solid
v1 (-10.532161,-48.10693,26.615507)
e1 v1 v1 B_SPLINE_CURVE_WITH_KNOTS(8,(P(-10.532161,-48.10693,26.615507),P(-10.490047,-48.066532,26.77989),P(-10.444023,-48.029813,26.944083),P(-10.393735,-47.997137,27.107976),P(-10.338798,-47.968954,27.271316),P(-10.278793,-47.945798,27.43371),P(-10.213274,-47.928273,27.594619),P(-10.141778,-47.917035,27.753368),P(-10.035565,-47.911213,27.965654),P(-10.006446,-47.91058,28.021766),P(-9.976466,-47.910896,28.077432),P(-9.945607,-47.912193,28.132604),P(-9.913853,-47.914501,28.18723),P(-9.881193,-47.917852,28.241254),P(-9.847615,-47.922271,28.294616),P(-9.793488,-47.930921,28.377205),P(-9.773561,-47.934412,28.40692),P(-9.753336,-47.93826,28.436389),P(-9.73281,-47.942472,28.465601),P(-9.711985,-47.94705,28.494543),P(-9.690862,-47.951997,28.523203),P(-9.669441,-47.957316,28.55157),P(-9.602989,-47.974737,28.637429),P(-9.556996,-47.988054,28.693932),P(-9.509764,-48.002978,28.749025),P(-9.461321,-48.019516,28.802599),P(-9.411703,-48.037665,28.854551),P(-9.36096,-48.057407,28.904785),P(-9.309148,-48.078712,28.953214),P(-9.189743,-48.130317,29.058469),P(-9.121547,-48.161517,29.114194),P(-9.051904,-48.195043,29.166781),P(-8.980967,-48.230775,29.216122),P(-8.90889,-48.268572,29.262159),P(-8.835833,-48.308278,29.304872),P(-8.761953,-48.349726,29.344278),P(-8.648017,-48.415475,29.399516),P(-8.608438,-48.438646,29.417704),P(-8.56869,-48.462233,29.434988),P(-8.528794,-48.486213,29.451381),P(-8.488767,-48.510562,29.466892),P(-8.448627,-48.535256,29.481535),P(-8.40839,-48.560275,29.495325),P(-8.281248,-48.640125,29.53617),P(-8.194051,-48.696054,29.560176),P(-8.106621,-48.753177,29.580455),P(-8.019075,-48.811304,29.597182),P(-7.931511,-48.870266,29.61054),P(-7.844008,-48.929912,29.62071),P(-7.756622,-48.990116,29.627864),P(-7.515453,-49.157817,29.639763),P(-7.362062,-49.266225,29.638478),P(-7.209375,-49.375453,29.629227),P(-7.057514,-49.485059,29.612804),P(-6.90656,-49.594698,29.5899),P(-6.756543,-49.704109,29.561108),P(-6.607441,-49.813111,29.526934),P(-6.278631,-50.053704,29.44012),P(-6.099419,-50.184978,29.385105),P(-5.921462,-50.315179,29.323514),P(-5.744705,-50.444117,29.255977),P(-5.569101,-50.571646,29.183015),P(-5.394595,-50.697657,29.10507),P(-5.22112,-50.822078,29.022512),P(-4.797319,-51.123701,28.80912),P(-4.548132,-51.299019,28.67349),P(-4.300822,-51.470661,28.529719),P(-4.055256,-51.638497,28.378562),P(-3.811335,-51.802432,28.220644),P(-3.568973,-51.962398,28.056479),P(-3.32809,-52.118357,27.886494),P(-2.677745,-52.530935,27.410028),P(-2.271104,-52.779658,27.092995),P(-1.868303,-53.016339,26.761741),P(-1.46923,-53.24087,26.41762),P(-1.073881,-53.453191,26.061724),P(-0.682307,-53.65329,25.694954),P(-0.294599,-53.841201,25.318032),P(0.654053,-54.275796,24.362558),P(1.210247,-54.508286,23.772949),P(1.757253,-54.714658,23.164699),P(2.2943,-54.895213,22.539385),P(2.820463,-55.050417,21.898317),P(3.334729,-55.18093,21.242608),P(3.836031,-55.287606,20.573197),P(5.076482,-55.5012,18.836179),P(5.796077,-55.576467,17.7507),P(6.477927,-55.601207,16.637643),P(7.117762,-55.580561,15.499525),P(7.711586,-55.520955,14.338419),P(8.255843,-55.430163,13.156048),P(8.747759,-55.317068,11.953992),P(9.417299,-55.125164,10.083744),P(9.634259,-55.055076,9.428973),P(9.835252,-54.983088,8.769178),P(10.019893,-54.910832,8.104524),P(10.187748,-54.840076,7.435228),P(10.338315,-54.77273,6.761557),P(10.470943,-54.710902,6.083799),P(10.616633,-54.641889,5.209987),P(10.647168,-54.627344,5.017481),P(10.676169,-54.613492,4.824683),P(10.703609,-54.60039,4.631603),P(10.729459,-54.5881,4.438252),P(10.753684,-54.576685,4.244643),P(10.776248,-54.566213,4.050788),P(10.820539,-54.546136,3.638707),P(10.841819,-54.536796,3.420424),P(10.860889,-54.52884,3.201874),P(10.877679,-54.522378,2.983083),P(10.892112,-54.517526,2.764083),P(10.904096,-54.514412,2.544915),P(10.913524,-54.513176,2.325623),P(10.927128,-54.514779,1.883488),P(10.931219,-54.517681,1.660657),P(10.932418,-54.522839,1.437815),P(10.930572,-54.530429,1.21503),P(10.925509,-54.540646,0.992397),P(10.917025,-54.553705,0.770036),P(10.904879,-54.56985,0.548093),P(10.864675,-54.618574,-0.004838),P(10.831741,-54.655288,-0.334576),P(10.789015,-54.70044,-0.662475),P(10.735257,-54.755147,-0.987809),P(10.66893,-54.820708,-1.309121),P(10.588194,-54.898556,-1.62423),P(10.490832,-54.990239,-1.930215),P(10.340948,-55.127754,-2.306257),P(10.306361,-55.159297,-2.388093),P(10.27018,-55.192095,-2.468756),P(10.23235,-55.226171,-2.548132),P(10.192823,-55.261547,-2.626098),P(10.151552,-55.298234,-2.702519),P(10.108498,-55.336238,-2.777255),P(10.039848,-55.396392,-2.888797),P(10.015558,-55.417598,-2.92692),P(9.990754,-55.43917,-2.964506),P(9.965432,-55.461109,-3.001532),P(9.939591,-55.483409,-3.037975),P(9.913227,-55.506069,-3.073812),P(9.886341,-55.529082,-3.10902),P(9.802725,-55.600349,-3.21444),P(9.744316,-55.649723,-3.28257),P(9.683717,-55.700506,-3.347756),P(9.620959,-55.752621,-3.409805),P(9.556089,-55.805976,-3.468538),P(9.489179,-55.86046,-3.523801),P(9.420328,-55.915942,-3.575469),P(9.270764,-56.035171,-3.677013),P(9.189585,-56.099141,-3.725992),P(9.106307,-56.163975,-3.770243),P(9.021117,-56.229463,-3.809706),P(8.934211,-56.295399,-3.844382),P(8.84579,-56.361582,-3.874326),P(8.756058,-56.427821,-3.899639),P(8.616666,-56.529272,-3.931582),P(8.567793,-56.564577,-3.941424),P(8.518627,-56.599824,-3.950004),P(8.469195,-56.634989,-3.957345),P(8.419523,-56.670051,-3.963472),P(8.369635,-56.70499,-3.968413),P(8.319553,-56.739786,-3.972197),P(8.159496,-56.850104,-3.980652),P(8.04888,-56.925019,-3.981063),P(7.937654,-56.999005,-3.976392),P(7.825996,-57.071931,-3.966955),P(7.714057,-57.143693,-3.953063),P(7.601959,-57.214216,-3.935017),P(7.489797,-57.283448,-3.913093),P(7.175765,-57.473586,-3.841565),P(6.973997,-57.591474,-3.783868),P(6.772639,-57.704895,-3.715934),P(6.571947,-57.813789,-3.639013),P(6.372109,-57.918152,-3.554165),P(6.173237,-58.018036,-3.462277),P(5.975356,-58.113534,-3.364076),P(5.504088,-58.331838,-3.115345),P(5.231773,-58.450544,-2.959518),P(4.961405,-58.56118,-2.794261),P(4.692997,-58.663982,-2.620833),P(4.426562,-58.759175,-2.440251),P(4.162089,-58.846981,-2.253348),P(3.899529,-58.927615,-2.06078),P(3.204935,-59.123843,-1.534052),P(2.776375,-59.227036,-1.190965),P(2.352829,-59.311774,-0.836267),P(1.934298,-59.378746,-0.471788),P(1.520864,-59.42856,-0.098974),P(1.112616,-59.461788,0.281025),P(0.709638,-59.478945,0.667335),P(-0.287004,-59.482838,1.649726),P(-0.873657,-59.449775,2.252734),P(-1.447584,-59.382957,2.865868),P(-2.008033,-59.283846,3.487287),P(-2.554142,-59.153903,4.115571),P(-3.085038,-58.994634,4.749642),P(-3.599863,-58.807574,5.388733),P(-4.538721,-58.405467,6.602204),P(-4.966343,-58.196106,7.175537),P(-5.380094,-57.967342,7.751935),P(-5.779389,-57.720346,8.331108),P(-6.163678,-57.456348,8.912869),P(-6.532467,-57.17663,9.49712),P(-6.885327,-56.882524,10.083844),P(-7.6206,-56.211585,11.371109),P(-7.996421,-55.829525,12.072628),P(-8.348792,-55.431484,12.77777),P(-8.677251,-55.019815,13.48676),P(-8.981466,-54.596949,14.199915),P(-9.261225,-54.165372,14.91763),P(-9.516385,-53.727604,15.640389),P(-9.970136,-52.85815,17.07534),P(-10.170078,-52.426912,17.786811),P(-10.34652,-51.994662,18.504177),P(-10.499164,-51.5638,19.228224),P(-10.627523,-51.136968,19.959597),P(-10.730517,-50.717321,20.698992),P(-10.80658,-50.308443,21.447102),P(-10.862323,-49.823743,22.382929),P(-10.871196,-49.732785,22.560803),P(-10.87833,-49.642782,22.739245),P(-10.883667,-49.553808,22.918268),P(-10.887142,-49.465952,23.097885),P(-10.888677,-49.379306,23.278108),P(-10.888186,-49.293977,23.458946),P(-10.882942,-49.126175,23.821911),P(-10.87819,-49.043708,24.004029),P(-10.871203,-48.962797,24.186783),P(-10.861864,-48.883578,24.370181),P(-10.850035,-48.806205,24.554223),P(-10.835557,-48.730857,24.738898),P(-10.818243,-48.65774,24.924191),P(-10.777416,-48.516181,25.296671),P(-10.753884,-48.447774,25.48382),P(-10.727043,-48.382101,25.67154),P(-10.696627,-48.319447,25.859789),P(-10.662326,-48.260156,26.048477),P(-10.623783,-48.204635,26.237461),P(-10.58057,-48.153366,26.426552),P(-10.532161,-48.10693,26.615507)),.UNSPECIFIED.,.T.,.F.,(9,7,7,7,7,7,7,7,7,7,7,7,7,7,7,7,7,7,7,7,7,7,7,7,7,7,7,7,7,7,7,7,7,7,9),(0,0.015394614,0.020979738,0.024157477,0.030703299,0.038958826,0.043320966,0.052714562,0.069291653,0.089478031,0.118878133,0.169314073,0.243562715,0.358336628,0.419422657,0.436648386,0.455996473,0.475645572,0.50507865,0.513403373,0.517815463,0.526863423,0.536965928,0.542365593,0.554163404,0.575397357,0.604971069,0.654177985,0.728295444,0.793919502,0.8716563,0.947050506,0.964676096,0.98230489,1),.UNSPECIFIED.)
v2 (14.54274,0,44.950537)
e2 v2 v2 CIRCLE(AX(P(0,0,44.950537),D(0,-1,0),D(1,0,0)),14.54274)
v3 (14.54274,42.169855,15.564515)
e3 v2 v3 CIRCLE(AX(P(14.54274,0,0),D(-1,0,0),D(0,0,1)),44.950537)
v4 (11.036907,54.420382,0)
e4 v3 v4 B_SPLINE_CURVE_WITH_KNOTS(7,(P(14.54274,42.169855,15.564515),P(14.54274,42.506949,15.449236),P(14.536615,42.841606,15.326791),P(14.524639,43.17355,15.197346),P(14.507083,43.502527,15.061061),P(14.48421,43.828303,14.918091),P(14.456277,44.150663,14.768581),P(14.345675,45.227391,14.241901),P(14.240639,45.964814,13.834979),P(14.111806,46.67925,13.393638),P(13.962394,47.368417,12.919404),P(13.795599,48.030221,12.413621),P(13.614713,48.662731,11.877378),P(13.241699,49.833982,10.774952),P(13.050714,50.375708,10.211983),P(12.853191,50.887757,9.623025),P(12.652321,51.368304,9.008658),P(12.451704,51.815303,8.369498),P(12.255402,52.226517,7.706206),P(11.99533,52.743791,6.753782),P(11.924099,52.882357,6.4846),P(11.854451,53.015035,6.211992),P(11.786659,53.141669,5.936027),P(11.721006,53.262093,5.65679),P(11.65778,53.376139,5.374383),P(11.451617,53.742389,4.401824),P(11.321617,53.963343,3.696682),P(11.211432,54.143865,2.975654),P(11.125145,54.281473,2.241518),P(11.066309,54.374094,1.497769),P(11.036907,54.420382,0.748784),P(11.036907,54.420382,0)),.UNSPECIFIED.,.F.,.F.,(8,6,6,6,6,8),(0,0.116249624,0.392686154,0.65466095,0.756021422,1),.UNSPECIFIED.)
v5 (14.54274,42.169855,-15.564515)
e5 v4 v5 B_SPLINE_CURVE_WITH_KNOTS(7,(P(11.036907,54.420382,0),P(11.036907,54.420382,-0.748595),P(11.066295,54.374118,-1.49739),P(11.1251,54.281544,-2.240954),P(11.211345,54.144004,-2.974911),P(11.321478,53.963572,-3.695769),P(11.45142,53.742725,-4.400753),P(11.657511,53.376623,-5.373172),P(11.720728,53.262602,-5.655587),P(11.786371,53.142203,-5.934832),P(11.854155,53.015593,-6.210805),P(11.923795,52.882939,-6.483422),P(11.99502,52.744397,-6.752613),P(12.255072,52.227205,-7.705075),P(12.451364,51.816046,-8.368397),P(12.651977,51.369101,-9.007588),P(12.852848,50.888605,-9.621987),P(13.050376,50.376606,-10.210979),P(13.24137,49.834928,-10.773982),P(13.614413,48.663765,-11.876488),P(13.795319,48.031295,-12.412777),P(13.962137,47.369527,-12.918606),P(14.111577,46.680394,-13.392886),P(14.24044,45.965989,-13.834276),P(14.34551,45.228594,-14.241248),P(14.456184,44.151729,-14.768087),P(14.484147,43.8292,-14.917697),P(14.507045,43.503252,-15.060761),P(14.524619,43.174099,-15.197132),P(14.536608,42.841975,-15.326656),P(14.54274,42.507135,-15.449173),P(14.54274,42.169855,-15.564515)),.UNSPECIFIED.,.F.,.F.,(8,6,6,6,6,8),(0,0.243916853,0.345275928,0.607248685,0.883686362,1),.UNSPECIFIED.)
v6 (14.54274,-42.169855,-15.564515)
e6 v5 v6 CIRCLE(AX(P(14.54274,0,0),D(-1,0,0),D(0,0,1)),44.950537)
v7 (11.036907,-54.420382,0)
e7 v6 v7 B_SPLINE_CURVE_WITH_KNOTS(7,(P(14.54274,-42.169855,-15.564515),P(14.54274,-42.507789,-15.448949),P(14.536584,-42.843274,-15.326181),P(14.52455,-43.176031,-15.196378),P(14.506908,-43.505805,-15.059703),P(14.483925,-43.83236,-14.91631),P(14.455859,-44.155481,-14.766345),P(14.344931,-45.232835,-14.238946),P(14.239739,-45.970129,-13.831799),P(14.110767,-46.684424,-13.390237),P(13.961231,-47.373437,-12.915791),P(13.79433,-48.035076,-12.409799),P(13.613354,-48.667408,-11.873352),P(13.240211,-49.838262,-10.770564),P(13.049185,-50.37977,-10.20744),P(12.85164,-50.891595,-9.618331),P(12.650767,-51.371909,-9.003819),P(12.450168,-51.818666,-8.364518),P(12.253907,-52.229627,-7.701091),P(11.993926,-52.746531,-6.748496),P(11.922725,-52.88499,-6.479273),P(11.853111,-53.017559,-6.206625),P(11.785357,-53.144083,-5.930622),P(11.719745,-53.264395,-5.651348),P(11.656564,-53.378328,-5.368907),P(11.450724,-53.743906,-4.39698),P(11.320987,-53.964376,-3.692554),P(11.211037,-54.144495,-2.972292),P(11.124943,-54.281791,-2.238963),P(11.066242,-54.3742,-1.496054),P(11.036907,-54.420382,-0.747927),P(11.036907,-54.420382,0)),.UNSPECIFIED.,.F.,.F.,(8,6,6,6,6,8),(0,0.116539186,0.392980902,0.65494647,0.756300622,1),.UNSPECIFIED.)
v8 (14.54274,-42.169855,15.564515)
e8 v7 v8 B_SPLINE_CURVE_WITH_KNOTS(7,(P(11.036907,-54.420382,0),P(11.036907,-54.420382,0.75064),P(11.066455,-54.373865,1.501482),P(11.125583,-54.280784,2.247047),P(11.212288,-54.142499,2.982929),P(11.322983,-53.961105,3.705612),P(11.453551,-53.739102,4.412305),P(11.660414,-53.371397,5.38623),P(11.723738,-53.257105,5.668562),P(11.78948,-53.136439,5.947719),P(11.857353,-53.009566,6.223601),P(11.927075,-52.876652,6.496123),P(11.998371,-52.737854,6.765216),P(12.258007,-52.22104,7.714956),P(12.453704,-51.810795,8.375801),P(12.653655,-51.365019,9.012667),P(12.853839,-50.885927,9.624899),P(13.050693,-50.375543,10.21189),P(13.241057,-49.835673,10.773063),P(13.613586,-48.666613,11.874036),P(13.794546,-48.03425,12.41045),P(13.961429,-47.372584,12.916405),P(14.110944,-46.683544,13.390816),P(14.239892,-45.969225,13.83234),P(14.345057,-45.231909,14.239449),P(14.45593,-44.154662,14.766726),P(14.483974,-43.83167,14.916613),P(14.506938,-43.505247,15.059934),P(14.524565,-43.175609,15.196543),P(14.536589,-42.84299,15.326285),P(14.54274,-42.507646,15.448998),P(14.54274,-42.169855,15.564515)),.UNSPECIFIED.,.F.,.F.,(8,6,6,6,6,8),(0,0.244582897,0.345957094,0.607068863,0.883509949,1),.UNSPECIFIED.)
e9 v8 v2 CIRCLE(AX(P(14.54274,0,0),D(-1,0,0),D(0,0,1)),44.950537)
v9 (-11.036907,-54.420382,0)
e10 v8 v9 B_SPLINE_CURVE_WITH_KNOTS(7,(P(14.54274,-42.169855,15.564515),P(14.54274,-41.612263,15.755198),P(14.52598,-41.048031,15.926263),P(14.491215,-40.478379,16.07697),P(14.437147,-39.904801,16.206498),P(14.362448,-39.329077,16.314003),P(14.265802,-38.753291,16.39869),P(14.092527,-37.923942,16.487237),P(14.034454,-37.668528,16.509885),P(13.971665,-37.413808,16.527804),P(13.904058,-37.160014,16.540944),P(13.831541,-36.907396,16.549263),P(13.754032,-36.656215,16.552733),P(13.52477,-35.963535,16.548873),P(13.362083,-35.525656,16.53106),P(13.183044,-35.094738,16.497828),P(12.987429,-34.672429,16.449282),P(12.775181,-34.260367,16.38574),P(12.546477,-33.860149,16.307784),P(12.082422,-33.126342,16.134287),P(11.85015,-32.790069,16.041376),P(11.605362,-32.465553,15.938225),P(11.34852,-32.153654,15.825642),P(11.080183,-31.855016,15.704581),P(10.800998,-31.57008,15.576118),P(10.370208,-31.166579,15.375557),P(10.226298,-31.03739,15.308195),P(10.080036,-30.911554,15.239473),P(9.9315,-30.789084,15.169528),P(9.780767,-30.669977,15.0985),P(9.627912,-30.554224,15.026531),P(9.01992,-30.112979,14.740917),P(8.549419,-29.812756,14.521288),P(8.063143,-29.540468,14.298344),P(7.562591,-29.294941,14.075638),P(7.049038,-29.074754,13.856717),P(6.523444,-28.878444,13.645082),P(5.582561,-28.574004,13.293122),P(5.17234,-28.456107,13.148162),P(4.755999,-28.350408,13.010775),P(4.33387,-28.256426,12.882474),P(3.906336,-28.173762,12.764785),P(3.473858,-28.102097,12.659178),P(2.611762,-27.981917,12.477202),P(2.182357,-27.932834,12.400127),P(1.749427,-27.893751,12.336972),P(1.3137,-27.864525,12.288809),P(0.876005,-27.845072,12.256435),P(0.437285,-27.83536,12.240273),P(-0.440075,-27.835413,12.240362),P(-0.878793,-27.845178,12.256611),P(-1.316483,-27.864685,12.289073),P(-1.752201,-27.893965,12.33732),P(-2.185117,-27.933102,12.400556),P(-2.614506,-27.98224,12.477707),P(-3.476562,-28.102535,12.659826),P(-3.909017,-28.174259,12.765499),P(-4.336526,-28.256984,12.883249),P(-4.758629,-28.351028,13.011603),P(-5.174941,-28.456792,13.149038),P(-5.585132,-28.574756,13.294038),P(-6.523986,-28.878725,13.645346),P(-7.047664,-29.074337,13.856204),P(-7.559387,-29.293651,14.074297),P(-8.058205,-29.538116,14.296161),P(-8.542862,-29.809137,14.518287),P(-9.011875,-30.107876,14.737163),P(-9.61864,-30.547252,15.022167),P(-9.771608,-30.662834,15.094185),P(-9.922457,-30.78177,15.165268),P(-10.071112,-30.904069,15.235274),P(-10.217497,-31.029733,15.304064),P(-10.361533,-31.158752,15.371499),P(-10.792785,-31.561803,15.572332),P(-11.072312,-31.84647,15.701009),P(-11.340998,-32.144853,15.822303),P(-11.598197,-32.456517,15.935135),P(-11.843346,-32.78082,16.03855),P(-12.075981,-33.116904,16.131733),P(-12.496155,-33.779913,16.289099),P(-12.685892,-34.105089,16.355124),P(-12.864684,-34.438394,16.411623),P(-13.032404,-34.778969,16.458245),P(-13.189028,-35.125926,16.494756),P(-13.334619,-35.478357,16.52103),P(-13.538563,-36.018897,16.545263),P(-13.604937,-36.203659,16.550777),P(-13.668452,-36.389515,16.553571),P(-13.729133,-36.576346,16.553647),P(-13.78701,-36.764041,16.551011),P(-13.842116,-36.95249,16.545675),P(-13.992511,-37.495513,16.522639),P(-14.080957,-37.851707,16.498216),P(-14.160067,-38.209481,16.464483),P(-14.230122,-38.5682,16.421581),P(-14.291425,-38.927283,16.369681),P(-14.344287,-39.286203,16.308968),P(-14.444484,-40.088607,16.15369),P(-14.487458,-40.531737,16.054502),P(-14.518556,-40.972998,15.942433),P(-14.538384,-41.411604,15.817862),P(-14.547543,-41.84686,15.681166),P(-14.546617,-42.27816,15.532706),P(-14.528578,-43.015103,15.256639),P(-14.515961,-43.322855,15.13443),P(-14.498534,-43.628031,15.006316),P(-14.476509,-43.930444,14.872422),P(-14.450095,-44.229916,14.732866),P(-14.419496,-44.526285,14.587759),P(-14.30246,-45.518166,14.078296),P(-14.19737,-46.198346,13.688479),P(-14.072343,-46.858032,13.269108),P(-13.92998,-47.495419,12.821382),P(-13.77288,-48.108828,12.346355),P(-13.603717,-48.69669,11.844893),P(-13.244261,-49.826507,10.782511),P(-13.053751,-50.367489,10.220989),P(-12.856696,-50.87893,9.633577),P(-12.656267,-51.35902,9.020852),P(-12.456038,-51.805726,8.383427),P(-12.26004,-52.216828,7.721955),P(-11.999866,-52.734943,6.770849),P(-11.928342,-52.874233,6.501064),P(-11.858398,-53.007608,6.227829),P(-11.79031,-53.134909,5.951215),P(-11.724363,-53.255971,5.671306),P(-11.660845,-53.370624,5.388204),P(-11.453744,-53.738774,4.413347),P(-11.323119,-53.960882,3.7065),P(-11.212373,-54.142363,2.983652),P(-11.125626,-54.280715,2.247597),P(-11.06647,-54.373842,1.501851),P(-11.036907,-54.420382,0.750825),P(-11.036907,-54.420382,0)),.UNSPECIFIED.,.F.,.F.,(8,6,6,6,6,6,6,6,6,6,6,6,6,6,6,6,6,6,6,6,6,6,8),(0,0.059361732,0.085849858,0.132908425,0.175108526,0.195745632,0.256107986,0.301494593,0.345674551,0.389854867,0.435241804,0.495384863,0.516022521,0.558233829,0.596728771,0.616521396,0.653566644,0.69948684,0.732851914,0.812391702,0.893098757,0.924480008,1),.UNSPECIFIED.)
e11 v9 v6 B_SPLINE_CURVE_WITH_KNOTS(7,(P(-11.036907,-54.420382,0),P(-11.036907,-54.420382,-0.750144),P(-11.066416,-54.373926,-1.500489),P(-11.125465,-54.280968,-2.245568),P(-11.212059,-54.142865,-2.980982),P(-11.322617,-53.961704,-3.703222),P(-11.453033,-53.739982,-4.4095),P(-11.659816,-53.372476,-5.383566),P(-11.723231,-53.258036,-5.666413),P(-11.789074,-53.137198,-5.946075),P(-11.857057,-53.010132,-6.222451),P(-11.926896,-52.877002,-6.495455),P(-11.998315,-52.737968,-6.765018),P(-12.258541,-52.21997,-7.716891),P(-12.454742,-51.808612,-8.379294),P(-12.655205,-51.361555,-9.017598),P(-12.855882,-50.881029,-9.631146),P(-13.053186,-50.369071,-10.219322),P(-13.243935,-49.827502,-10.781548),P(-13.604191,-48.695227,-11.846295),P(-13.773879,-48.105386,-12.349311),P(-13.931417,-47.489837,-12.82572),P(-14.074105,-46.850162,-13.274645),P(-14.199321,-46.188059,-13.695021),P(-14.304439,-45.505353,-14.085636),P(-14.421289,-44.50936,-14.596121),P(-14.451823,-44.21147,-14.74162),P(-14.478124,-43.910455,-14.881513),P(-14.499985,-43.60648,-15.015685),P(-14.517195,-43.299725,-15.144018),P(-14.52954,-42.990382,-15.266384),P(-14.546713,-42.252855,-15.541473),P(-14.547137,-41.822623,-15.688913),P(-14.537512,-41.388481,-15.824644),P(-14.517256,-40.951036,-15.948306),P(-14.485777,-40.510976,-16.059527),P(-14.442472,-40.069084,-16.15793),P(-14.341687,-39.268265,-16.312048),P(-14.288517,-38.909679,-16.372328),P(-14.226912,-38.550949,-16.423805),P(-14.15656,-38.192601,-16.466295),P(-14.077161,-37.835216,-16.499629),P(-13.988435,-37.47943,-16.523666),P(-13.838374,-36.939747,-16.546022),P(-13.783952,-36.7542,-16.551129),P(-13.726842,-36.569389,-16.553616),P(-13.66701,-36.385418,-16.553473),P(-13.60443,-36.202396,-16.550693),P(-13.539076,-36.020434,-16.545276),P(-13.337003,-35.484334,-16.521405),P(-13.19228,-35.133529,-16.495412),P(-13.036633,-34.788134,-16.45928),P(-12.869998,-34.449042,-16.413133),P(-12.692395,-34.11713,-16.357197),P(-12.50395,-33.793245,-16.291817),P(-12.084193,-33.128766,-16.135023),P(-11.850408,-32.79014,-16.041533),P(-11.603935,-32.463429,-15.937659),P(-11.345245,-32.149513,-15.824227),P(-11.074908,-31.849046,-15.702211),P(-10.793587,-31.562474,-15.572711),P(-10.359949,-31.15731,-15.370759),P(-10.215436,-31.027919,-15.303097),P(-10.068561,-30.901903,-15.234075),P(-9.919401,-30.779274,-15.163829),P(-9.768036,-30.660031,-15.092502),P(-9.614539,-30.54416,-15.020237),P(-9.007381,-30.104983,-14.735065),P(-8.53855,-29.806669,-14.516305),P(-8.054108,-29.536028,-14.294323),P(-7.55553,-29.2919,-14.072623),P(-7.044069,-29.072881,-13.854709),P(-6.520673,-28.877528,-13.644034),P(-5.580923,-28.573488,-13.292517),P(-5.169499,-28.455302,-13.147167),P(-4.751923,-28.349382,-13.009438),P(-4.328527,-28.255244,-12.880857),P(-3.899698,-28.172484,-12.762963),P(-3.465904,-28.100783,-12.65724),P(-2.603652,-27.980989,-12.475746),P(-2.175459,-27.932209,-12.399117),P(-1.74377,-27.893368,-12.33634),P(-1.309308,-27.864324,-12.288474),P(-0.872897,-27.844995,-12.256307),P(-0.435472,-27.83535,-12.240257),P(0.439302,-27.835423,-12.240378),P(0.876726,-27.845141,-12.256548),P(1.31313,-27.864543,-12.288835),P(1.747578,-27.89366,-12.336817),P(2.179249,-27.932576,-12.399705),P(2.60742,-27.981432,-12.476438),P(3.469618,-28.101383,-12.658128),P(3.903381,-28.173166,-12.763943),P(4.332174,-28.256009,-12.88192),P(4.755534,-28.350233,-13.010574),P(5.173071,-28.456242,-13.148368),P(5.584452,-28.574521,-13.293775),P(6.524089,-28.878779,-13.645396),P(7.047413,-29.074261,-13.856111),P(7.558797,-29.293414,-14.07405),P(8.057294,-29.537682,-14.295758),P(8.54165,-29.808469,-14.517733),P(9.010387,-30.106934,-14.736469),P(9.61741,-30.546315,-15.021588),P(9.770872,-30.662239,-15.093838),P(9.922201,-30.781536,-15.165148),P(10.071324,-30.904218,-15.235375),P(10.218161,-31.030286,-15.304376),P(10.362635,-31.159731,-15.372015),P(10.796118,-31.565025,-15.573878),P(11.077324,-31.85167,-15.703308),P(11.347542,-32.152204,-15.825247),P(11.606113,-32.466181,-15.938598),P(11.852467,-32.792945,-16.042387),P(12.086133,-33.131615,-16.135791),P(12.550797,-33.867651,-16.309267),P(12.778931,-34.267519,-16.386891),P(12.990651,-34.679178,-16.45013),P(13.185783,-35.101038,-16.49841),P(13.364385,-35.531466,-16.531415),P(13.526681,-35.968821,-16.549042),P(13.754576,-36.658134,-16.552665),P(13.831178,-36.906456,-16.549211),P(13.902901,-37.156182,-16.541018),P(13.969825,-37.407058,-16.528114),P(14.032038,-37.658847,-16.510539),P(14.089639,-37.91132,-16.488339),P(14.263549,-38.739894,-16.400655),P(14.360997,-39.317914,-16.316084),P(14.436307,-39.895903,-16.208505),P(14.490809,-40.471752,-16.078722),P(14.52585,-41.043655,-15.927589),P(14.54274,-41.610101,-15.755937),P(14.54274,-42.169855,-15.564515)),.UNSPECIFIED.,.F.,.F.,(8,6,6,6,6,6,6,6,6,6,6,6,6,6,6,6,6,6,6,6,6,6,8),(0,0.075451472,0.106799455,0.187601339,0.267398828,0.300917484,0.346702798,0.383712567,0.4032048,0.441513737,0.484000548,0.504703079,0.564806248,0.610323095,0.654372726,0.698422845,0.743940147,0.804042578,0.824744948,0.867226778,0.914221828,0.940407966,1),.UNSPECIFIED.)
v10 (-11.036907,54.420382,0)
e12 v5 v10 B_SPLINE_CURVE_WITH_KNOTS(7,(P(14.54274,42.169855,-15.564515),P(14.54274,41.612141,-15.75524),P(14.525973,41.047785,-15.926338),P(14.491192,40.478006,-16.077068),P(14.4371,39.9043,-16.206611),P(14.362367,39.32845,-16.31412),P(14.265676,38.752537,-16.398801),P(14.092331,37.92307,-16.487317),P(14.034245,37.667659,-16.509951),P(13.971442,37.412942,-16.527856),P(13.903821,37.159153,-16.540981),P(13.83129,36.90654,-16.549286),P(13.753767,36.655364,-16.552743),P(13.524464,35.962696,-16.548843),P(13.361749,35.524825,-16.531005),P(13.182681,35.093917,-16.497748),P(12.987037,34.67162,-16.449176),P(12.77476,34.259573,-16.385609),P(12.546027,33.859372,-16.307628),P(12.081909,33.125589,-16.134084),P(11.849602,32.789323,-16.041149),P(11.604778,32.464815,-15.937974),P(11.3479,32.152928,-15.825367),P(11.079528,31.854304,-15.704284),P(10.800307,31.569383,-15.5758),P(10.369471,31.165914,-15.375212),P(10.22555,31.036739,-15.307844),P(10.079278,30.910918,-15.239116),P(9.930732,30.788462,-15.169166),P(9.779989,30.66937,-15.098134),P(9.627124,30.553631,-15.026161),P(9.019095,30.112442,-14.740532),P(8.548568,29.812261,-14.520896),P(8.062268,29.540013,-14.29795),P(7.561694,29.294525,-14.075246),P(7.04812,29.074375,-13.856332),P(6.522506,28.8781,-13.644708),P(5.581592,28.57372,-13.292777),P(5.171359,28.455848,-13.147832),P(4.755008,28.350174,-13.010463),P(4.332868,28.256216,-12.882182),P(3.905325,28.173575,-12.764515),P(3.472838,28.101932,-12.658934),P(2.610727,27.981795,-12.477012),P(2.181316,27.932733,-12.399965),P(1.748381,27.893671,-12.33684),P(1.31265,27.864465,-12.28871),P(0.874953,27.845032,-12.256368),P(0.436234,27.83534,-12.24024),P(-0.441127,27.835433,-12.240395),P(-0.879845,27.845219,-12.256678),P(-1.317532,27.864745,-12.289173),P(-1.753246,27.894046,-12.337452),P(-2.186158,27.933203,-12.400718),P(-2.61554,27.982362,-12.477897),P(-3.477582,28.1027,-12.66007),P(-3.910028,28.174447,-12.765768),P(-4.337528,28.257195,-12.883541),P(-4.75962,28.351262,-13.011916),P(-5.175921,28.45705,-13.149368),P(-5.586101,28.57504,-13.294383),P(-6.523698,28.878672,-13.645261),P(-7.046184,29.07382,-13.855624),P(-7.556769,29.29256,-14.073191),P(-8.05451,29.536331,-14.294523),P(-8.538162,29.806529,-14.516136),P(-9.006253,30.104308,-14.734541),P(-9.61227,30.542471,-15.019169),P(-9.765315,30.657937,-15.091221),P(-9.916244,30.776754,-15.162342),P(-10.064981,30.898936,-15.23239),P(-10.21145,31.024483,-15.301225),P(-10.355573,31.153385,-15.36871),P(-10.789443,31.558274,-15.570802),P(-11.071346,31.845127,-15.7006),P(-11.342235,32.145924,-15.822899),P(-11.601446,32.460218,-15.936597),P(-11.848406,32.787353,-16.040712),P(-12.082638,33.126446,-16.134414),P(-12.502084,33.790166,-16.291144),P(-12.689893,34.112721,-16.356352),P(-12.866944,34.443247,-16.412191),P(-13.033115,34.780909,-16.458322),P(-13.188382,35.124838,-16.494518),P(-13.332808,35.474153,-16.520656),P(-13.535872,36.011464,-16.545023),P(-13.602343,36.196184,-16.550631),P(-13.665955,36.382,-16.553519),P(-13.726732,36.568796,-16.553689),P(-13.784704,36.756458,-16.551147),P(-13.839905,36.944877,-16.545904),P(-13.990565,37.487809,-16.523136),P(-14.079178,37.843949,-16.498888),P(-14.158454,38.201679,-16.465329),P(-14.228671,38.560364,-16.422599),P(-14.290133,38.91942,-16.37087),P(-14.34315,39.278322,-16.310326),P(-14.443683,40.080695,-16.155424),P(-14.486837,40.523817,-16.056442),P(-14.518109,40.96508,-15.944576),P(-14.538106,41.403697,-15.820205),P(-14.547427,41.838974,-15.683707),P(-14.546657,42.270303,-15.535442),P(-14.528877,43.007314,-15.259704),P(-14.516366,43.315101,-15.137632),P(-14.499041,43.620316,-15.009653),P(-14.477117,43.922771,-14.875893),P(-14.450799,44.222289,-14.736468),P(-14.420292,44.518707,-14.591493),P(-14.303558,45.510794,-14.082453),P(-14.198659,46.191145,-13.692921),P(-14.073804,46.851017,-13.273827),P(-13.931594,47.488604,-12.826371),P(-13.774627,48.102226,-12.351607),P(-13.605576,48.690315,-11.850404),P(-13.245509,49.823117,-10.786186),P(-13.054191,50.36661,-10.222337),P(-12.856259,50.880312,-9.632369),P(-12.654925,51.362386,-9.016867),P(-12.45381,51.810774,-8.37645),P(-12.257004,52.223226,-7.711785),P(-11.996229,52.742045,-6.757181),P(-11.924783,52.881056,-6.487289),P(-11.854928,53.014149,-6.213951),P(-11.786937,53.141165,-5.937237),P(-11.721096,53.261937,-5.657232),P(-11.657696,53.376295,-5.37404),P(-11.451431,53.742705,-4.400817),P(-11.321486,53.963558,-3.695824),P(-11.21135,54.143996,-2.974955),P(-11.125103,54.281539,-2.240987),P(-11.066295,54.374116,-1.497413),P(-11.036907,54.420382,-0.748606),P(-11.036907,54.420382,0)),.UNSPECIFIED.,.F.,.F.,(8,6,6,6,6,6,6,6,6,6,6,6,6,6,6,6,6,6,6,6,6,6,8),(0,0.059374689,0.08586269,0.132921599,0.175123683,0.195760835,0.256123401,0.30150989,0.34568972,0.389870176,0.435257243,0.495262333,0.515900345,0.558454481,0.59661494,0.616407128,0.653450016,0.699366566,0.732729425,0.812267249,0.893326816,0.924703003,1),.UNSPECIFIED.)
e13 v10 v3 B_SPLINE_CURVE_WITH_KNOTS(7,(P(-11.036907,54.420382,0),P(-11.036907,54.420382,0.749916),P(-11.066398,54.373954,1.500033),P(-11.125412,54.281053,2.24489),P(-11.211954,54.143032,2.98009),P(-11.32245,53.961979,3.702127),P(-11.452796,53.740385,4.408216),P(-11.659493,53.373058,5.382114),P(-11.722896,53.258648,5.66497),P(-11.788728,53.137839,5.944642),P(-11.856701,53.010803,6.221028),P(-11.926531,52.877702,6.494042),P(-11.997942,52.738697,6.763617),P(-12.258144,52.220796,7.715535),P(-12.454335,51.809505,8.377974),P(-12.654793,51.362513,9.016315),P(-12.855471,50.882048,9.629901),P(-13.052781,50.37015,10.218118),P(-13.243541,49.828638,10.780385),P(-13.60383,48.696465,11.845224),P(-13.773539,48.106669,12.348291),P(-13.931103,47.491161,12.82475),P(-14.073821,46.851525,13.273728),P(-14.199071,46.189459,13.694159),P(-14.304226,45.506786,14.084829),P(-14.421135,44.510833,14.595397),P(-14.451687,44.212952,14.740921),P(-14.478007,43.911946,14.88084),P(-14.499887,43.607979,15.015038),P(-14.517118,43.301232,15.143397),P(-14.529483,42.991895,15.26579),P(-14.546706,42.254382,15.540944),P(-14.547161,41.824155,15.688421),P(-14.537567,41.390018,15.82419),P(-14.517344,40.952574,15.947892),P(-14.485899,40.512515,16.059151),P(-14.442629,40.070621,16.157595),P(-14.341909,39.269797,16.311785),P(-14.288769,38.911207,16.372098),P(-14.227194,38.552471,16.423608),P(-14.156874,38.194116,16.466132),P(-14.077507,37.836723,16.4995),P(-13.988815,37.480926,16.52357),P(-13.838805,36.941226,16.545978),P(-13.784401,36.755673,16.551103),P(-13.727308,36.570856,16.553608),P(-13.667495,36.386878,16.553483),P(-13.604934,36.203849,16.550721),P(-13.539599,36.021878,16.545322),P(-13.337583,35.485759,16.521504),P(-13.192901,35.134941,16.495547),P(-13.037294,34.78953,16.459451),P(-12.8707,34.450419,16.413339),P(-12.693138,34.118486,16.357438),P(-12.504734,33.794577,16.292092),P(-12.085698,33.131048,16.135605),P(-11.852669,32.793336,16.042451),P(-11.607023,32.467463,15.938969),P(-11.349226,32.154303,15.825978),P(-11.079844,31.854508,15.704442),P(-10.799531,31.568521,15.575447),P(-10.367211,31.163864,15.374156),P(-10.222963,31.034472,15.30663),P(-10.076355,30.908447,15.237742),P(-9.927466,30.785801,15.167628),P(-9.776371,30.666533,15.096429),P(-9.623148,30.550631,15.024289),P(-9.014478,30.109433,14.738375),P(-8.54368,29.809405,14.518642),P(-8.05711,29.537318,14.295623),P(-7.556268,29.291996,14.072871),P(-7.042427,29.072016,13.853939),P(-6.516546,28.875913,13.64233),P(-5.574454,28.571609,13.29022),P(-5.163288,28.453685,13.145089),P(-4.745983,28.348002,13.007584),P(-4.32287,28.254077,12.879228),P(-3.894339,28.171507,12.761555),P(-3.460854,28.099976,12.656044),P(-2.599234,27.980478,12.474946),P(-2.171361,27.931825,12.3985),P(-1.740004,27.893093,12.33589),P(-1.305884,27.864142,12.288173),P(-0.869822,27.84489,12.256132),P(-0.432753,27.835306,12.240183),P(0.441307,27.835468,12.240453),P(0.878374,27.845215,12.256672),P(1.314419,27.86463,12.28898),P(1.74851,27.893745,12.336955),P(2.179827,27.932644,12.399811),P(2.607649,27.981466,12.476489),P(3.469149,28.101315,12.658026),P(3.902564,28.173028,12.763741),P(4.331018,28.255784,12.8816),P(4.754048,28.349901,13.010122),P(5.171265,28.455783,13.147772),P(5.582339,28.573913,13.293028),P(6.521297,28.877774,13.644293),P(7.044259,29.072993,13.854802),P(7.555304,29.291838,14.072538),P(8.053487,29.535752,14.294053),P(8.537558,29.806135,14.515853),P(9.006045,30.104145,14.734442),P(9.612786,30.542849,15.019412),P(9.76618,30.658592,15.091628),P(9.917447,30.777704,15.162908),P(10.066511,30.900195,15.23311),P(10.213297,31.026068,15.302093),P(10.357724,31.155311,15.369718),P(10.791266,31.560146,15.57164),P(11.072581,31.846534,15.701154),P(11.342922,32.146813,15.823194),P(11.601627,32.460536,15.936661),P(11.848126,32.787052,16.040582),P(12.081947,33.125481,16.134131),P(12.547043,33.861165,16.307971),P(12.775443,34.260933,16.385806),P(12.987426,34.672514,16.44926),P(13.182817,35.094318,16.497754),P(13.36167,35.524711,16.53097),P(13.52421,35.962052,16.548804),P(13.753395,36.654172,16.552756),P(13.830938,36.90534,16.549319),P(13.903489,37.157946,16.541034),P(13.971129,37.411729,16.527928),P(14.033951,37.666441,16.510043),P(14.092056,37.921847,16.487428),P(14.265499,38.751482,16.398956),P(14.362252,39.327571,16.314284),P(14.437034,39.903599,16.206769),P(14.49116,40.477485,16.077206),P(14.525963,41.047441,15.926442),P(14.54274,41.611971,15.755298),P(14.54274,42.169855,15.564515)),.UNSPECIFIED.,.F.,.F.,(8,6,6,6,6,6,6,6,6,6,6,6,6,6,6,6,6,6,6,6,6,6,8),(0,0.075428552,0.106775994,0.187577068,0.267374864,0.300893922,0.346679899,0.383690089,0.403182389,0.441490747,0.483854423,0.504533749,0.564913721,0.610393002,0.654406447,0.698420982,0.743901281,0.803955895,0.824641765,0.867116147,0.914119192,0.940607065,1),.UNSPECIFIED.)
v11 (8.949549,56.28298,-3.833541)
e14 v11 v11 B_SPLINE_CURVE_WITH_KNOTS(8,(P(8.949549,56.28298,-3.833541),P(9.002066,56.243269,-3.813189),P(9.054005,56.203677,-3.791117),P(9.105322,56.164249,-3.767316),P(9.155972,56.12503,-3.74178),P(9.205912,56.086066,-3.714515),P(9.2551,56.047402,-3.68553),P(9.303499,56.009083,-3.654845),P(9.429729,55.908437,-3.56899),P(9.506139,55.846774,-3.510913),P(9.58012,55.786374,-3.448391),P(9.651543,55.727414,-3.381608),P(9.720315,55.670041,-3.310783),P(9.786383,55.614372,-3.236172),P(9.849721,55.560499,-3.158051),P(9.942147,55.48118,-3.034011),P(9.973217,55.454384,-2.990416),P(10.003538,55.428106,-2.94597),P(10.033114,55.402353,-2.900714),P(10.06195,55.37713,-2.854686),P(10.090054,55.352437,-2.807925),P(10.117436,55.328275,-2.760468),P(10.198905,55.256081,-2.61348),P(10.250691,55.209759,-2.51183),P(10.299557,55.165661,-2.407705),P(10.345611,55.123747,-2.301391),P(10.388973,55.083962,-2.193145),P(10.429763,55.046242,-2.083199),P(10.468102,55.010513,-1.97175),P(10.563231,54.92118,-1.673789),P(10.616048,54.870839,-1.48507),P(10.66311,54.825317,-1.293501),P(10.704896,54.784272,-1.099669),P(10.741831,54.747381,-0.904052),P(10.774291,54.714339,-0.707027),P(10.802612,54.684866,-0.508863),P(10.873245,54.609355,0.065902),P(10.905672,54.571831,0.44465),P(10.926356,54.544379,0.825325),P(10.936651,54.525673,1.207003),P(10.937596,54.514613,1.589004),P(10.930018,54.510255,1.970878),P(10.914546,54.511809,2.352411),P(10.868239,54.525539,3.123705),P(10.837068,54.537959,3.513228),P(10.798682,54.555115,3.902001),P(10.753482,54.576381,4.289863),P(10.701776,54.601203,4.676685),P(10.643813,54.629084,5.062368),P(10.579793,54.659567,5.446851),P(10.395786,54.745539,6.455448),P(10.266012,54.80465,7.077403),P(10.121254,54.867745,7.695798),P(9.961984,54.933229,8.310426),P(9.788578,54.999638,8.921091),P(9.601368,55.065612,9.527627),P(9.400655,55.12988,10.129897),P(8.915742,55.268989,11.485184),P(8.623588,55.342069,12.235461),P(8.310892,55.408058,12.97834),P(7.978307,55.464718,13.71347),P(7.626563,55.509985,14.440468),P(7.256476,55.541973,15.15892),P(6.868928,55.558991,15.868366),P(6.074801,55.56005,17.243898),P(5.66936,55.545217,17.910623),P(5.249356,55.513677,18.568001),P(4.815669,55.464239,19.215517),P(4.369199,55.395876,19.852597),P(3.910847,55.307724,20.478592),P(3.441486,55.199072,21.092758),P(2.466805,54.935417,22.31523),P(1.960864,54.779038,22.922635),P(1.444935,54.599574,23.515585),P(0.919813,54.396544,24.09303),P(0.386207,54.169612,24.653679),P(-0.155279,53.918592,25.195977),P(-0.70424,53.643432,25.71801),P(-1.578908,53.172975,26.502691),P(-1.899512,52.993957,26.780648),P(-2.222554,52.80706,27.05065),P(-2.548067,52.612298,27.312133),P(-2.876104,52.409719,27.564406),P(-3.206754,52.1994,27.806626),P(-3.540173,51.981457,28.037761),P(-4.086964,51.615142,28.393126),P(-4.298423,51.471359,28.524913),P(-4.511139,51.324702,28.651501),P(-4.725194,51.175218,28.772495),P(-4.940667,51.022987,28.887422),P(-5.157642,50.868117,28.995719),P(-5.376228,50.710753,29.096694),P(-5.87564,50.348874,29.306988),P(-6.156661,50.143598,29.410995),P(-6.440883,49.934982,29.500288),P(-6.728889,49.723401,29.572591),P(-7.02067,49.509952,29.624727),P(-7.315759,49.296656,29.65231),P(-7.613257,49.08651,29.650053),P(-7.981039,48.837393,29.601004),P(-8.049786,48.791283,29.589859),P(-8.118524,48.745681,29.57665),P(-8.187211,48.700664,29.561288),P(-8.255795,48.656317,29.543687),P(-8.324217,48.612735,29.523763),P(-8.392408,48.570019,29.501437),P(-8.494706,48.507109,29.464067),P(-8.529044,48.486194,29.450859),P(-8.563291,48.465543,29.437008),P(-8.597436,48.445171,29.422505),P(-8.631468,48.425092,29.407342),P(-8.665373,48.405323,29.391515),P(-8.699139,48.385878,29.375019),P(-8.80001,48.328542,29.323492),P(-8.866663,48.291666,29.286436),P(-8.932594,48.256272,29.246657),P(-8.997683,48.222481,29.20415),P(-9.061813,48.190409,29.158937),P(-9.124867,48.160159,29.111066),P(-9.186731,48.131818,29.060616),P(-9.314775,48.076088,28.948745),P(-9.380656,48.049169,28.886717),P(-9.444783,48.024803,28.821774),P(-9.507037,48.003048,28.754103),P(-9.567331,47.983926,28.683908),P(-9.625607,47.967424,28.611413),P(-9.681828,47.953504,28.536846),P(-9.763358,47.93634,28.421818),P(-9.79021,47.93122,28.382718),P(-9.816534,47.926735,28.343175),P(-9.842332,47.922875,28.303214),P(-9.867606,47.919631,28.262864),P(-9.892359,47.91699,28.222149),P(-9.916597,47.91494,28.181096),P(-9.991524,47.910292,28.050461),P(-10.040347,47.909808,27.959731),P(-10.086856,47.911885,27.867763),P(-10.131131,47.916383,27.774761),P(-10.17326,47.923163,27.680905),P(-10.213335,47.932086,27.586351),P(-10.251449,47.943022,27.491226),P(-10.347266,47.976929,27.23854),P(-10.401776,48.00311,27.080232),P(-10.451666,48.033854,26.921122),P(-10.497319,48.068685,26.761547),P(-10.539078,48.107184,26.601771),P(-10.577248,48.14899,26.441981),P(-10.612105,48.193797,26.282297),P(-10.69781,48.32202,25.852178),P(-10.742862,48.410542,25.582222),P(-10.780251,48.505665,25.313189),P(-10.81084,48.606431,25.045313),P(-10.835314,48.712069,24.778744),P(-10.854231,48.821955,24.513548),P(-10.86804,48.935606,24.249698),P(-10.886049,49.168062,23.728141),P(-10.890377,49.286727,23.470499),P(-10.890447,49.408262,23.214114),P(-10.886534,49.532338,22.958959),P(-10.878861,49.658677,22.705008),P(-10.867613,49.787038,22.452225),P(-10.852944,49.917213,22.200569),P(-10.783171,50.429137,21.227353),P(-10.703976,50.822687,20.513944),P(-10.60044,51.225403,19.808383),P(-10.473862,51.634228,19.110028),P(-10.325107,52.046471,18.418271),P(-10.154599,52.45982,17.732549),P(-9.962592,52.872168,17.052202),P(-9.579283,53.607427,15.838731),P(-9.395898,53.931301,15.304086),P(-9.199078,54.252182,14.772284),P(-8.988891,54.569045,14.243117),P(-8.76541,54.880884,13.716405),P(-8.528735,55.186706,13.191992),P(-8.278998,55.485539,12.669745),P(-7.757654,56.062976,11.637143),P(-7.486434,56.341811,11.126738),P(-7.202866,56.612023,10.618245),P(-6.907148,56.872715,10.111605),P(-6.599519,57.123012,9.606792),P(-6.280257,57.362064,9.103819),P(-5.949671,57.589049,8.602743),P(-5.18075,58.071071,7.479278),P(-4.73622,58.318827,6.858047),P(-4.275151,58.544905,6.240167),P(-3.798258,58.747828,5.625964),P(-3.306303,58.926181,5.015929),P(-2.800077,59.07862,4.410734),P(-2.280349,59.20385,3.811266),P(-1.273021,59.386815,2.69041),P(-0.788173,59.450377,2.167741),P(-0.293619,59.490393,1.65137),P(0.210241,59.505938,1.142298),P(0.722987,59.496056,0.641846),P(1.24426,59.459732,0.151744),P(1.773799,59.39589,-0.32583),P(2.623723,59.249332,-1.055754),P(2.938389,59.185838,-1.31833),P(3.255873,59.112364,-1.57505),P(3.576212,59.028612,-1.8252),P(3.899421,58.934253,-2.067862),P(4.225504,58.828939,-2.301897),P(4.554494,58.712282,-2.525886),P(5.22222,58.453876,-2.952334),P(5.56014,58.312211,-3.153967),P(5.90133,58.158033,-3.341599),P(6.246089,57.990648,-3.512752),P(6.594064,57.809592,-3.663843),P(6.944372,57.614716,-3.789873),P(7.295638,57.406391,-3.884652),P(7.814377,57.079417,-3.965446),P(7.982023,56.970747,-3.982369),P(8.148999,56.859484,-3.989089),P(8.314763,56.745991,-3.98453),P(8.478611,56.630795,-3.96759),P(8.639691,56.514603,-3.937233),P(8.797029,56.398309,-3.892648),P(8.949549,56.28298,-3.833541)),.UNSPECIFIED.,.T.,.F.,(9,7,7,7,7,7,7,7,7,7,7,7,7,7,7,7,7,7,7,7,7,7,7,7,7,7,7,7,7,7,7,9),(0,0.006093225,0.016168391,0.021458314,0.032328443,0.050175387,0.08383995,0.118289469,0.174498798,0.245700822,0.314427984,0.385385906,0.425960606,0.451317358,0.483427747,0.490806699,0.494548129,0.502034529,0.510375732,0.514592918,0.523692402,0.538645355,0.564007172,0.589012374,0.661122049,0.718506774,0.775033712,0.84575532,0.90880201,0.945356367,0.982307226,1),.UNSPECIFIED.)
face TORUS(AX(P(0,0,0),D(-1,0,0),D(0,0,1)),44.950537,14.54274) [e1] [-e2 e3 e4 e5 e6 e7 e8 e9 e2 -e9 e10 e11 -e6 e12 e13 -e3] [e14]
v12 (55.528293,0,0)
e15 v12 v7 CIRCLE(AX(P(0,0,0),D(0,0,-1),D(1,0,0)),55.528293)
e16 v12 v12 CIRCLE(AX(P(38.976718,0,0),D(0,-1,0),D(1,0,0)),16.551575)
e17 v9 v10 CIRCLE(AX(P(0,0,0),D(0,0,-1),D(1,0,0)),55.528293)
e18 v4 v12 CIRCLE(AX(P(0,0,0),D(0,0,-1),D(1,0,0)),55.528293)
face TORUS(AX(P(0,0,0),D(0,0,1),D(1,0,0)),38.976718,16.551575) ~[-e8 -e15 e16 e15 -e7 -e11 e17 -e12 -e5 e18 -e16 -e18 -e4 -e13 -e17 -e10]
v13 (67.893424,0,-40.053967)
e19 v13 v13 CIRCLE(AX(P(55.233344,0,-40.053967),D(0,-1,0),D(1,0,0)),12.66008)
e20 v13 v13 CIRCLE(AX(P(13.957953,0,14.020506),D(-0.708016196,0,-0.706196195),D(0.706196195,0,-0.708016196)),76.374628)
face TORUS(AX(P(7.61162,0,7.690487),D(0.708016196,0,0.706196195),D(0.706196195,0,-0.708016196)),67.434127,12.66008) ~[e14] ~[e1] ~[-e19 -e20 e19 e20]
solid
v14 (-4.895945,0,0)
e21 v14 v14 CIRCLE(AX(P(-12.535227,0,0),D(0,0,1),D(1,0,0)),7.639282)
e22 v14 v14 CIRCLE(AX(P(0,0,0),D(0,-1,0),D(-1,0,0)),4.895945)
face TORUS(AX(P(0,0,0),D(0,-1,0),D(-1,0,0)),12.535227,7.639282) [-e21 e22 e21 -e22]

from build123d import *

# Parameters (mm, degrees)
F0_R = 16.551575
F2_R = 7.639282
F4_R = 14.54274
F6_R = 12.66008


with BuildPart() as f1:
    # F0 (on Front) → F1 (revolve)
    with BuildSketch(Plane.XZ):
        with Locations((38.976718, 0)):
            Circle(F0_R)
    revolve(axis=Axis((0, 0, 0.097932), (0, 0, -1)))

    # F4 (on Front) → F5 (revolve)
    with BuildSketch(Plane.XZ):
        with Locations((0, 44.950537)):
            Circle(F4_R)
    revolve(axis=Axis((-2.546215, 0, 0), (-1, 0, 0)))

    # F6 (on Front) → F7 (revolve)
    with BuildSketch(Plane.XZ):
        with Locations((55.233344, -40.053967)):
            Circle(F6_R)
    revolve(axis=Axis((0.195861, 0, 0.293791), (-0.708016, 0, -0.706196)))


with BuildPart() as f3:
    # F2 (on Top) → F3 (revolve)
    with BuildSketch(Plane.XY):
        with Locations((-12.535227, 0)):
            Circle(F2_R)
    revolve(axis=Axis((0, 0.391725, 0), (0, -1, 0)))


solid = Compound([f1.part, f3.part])
